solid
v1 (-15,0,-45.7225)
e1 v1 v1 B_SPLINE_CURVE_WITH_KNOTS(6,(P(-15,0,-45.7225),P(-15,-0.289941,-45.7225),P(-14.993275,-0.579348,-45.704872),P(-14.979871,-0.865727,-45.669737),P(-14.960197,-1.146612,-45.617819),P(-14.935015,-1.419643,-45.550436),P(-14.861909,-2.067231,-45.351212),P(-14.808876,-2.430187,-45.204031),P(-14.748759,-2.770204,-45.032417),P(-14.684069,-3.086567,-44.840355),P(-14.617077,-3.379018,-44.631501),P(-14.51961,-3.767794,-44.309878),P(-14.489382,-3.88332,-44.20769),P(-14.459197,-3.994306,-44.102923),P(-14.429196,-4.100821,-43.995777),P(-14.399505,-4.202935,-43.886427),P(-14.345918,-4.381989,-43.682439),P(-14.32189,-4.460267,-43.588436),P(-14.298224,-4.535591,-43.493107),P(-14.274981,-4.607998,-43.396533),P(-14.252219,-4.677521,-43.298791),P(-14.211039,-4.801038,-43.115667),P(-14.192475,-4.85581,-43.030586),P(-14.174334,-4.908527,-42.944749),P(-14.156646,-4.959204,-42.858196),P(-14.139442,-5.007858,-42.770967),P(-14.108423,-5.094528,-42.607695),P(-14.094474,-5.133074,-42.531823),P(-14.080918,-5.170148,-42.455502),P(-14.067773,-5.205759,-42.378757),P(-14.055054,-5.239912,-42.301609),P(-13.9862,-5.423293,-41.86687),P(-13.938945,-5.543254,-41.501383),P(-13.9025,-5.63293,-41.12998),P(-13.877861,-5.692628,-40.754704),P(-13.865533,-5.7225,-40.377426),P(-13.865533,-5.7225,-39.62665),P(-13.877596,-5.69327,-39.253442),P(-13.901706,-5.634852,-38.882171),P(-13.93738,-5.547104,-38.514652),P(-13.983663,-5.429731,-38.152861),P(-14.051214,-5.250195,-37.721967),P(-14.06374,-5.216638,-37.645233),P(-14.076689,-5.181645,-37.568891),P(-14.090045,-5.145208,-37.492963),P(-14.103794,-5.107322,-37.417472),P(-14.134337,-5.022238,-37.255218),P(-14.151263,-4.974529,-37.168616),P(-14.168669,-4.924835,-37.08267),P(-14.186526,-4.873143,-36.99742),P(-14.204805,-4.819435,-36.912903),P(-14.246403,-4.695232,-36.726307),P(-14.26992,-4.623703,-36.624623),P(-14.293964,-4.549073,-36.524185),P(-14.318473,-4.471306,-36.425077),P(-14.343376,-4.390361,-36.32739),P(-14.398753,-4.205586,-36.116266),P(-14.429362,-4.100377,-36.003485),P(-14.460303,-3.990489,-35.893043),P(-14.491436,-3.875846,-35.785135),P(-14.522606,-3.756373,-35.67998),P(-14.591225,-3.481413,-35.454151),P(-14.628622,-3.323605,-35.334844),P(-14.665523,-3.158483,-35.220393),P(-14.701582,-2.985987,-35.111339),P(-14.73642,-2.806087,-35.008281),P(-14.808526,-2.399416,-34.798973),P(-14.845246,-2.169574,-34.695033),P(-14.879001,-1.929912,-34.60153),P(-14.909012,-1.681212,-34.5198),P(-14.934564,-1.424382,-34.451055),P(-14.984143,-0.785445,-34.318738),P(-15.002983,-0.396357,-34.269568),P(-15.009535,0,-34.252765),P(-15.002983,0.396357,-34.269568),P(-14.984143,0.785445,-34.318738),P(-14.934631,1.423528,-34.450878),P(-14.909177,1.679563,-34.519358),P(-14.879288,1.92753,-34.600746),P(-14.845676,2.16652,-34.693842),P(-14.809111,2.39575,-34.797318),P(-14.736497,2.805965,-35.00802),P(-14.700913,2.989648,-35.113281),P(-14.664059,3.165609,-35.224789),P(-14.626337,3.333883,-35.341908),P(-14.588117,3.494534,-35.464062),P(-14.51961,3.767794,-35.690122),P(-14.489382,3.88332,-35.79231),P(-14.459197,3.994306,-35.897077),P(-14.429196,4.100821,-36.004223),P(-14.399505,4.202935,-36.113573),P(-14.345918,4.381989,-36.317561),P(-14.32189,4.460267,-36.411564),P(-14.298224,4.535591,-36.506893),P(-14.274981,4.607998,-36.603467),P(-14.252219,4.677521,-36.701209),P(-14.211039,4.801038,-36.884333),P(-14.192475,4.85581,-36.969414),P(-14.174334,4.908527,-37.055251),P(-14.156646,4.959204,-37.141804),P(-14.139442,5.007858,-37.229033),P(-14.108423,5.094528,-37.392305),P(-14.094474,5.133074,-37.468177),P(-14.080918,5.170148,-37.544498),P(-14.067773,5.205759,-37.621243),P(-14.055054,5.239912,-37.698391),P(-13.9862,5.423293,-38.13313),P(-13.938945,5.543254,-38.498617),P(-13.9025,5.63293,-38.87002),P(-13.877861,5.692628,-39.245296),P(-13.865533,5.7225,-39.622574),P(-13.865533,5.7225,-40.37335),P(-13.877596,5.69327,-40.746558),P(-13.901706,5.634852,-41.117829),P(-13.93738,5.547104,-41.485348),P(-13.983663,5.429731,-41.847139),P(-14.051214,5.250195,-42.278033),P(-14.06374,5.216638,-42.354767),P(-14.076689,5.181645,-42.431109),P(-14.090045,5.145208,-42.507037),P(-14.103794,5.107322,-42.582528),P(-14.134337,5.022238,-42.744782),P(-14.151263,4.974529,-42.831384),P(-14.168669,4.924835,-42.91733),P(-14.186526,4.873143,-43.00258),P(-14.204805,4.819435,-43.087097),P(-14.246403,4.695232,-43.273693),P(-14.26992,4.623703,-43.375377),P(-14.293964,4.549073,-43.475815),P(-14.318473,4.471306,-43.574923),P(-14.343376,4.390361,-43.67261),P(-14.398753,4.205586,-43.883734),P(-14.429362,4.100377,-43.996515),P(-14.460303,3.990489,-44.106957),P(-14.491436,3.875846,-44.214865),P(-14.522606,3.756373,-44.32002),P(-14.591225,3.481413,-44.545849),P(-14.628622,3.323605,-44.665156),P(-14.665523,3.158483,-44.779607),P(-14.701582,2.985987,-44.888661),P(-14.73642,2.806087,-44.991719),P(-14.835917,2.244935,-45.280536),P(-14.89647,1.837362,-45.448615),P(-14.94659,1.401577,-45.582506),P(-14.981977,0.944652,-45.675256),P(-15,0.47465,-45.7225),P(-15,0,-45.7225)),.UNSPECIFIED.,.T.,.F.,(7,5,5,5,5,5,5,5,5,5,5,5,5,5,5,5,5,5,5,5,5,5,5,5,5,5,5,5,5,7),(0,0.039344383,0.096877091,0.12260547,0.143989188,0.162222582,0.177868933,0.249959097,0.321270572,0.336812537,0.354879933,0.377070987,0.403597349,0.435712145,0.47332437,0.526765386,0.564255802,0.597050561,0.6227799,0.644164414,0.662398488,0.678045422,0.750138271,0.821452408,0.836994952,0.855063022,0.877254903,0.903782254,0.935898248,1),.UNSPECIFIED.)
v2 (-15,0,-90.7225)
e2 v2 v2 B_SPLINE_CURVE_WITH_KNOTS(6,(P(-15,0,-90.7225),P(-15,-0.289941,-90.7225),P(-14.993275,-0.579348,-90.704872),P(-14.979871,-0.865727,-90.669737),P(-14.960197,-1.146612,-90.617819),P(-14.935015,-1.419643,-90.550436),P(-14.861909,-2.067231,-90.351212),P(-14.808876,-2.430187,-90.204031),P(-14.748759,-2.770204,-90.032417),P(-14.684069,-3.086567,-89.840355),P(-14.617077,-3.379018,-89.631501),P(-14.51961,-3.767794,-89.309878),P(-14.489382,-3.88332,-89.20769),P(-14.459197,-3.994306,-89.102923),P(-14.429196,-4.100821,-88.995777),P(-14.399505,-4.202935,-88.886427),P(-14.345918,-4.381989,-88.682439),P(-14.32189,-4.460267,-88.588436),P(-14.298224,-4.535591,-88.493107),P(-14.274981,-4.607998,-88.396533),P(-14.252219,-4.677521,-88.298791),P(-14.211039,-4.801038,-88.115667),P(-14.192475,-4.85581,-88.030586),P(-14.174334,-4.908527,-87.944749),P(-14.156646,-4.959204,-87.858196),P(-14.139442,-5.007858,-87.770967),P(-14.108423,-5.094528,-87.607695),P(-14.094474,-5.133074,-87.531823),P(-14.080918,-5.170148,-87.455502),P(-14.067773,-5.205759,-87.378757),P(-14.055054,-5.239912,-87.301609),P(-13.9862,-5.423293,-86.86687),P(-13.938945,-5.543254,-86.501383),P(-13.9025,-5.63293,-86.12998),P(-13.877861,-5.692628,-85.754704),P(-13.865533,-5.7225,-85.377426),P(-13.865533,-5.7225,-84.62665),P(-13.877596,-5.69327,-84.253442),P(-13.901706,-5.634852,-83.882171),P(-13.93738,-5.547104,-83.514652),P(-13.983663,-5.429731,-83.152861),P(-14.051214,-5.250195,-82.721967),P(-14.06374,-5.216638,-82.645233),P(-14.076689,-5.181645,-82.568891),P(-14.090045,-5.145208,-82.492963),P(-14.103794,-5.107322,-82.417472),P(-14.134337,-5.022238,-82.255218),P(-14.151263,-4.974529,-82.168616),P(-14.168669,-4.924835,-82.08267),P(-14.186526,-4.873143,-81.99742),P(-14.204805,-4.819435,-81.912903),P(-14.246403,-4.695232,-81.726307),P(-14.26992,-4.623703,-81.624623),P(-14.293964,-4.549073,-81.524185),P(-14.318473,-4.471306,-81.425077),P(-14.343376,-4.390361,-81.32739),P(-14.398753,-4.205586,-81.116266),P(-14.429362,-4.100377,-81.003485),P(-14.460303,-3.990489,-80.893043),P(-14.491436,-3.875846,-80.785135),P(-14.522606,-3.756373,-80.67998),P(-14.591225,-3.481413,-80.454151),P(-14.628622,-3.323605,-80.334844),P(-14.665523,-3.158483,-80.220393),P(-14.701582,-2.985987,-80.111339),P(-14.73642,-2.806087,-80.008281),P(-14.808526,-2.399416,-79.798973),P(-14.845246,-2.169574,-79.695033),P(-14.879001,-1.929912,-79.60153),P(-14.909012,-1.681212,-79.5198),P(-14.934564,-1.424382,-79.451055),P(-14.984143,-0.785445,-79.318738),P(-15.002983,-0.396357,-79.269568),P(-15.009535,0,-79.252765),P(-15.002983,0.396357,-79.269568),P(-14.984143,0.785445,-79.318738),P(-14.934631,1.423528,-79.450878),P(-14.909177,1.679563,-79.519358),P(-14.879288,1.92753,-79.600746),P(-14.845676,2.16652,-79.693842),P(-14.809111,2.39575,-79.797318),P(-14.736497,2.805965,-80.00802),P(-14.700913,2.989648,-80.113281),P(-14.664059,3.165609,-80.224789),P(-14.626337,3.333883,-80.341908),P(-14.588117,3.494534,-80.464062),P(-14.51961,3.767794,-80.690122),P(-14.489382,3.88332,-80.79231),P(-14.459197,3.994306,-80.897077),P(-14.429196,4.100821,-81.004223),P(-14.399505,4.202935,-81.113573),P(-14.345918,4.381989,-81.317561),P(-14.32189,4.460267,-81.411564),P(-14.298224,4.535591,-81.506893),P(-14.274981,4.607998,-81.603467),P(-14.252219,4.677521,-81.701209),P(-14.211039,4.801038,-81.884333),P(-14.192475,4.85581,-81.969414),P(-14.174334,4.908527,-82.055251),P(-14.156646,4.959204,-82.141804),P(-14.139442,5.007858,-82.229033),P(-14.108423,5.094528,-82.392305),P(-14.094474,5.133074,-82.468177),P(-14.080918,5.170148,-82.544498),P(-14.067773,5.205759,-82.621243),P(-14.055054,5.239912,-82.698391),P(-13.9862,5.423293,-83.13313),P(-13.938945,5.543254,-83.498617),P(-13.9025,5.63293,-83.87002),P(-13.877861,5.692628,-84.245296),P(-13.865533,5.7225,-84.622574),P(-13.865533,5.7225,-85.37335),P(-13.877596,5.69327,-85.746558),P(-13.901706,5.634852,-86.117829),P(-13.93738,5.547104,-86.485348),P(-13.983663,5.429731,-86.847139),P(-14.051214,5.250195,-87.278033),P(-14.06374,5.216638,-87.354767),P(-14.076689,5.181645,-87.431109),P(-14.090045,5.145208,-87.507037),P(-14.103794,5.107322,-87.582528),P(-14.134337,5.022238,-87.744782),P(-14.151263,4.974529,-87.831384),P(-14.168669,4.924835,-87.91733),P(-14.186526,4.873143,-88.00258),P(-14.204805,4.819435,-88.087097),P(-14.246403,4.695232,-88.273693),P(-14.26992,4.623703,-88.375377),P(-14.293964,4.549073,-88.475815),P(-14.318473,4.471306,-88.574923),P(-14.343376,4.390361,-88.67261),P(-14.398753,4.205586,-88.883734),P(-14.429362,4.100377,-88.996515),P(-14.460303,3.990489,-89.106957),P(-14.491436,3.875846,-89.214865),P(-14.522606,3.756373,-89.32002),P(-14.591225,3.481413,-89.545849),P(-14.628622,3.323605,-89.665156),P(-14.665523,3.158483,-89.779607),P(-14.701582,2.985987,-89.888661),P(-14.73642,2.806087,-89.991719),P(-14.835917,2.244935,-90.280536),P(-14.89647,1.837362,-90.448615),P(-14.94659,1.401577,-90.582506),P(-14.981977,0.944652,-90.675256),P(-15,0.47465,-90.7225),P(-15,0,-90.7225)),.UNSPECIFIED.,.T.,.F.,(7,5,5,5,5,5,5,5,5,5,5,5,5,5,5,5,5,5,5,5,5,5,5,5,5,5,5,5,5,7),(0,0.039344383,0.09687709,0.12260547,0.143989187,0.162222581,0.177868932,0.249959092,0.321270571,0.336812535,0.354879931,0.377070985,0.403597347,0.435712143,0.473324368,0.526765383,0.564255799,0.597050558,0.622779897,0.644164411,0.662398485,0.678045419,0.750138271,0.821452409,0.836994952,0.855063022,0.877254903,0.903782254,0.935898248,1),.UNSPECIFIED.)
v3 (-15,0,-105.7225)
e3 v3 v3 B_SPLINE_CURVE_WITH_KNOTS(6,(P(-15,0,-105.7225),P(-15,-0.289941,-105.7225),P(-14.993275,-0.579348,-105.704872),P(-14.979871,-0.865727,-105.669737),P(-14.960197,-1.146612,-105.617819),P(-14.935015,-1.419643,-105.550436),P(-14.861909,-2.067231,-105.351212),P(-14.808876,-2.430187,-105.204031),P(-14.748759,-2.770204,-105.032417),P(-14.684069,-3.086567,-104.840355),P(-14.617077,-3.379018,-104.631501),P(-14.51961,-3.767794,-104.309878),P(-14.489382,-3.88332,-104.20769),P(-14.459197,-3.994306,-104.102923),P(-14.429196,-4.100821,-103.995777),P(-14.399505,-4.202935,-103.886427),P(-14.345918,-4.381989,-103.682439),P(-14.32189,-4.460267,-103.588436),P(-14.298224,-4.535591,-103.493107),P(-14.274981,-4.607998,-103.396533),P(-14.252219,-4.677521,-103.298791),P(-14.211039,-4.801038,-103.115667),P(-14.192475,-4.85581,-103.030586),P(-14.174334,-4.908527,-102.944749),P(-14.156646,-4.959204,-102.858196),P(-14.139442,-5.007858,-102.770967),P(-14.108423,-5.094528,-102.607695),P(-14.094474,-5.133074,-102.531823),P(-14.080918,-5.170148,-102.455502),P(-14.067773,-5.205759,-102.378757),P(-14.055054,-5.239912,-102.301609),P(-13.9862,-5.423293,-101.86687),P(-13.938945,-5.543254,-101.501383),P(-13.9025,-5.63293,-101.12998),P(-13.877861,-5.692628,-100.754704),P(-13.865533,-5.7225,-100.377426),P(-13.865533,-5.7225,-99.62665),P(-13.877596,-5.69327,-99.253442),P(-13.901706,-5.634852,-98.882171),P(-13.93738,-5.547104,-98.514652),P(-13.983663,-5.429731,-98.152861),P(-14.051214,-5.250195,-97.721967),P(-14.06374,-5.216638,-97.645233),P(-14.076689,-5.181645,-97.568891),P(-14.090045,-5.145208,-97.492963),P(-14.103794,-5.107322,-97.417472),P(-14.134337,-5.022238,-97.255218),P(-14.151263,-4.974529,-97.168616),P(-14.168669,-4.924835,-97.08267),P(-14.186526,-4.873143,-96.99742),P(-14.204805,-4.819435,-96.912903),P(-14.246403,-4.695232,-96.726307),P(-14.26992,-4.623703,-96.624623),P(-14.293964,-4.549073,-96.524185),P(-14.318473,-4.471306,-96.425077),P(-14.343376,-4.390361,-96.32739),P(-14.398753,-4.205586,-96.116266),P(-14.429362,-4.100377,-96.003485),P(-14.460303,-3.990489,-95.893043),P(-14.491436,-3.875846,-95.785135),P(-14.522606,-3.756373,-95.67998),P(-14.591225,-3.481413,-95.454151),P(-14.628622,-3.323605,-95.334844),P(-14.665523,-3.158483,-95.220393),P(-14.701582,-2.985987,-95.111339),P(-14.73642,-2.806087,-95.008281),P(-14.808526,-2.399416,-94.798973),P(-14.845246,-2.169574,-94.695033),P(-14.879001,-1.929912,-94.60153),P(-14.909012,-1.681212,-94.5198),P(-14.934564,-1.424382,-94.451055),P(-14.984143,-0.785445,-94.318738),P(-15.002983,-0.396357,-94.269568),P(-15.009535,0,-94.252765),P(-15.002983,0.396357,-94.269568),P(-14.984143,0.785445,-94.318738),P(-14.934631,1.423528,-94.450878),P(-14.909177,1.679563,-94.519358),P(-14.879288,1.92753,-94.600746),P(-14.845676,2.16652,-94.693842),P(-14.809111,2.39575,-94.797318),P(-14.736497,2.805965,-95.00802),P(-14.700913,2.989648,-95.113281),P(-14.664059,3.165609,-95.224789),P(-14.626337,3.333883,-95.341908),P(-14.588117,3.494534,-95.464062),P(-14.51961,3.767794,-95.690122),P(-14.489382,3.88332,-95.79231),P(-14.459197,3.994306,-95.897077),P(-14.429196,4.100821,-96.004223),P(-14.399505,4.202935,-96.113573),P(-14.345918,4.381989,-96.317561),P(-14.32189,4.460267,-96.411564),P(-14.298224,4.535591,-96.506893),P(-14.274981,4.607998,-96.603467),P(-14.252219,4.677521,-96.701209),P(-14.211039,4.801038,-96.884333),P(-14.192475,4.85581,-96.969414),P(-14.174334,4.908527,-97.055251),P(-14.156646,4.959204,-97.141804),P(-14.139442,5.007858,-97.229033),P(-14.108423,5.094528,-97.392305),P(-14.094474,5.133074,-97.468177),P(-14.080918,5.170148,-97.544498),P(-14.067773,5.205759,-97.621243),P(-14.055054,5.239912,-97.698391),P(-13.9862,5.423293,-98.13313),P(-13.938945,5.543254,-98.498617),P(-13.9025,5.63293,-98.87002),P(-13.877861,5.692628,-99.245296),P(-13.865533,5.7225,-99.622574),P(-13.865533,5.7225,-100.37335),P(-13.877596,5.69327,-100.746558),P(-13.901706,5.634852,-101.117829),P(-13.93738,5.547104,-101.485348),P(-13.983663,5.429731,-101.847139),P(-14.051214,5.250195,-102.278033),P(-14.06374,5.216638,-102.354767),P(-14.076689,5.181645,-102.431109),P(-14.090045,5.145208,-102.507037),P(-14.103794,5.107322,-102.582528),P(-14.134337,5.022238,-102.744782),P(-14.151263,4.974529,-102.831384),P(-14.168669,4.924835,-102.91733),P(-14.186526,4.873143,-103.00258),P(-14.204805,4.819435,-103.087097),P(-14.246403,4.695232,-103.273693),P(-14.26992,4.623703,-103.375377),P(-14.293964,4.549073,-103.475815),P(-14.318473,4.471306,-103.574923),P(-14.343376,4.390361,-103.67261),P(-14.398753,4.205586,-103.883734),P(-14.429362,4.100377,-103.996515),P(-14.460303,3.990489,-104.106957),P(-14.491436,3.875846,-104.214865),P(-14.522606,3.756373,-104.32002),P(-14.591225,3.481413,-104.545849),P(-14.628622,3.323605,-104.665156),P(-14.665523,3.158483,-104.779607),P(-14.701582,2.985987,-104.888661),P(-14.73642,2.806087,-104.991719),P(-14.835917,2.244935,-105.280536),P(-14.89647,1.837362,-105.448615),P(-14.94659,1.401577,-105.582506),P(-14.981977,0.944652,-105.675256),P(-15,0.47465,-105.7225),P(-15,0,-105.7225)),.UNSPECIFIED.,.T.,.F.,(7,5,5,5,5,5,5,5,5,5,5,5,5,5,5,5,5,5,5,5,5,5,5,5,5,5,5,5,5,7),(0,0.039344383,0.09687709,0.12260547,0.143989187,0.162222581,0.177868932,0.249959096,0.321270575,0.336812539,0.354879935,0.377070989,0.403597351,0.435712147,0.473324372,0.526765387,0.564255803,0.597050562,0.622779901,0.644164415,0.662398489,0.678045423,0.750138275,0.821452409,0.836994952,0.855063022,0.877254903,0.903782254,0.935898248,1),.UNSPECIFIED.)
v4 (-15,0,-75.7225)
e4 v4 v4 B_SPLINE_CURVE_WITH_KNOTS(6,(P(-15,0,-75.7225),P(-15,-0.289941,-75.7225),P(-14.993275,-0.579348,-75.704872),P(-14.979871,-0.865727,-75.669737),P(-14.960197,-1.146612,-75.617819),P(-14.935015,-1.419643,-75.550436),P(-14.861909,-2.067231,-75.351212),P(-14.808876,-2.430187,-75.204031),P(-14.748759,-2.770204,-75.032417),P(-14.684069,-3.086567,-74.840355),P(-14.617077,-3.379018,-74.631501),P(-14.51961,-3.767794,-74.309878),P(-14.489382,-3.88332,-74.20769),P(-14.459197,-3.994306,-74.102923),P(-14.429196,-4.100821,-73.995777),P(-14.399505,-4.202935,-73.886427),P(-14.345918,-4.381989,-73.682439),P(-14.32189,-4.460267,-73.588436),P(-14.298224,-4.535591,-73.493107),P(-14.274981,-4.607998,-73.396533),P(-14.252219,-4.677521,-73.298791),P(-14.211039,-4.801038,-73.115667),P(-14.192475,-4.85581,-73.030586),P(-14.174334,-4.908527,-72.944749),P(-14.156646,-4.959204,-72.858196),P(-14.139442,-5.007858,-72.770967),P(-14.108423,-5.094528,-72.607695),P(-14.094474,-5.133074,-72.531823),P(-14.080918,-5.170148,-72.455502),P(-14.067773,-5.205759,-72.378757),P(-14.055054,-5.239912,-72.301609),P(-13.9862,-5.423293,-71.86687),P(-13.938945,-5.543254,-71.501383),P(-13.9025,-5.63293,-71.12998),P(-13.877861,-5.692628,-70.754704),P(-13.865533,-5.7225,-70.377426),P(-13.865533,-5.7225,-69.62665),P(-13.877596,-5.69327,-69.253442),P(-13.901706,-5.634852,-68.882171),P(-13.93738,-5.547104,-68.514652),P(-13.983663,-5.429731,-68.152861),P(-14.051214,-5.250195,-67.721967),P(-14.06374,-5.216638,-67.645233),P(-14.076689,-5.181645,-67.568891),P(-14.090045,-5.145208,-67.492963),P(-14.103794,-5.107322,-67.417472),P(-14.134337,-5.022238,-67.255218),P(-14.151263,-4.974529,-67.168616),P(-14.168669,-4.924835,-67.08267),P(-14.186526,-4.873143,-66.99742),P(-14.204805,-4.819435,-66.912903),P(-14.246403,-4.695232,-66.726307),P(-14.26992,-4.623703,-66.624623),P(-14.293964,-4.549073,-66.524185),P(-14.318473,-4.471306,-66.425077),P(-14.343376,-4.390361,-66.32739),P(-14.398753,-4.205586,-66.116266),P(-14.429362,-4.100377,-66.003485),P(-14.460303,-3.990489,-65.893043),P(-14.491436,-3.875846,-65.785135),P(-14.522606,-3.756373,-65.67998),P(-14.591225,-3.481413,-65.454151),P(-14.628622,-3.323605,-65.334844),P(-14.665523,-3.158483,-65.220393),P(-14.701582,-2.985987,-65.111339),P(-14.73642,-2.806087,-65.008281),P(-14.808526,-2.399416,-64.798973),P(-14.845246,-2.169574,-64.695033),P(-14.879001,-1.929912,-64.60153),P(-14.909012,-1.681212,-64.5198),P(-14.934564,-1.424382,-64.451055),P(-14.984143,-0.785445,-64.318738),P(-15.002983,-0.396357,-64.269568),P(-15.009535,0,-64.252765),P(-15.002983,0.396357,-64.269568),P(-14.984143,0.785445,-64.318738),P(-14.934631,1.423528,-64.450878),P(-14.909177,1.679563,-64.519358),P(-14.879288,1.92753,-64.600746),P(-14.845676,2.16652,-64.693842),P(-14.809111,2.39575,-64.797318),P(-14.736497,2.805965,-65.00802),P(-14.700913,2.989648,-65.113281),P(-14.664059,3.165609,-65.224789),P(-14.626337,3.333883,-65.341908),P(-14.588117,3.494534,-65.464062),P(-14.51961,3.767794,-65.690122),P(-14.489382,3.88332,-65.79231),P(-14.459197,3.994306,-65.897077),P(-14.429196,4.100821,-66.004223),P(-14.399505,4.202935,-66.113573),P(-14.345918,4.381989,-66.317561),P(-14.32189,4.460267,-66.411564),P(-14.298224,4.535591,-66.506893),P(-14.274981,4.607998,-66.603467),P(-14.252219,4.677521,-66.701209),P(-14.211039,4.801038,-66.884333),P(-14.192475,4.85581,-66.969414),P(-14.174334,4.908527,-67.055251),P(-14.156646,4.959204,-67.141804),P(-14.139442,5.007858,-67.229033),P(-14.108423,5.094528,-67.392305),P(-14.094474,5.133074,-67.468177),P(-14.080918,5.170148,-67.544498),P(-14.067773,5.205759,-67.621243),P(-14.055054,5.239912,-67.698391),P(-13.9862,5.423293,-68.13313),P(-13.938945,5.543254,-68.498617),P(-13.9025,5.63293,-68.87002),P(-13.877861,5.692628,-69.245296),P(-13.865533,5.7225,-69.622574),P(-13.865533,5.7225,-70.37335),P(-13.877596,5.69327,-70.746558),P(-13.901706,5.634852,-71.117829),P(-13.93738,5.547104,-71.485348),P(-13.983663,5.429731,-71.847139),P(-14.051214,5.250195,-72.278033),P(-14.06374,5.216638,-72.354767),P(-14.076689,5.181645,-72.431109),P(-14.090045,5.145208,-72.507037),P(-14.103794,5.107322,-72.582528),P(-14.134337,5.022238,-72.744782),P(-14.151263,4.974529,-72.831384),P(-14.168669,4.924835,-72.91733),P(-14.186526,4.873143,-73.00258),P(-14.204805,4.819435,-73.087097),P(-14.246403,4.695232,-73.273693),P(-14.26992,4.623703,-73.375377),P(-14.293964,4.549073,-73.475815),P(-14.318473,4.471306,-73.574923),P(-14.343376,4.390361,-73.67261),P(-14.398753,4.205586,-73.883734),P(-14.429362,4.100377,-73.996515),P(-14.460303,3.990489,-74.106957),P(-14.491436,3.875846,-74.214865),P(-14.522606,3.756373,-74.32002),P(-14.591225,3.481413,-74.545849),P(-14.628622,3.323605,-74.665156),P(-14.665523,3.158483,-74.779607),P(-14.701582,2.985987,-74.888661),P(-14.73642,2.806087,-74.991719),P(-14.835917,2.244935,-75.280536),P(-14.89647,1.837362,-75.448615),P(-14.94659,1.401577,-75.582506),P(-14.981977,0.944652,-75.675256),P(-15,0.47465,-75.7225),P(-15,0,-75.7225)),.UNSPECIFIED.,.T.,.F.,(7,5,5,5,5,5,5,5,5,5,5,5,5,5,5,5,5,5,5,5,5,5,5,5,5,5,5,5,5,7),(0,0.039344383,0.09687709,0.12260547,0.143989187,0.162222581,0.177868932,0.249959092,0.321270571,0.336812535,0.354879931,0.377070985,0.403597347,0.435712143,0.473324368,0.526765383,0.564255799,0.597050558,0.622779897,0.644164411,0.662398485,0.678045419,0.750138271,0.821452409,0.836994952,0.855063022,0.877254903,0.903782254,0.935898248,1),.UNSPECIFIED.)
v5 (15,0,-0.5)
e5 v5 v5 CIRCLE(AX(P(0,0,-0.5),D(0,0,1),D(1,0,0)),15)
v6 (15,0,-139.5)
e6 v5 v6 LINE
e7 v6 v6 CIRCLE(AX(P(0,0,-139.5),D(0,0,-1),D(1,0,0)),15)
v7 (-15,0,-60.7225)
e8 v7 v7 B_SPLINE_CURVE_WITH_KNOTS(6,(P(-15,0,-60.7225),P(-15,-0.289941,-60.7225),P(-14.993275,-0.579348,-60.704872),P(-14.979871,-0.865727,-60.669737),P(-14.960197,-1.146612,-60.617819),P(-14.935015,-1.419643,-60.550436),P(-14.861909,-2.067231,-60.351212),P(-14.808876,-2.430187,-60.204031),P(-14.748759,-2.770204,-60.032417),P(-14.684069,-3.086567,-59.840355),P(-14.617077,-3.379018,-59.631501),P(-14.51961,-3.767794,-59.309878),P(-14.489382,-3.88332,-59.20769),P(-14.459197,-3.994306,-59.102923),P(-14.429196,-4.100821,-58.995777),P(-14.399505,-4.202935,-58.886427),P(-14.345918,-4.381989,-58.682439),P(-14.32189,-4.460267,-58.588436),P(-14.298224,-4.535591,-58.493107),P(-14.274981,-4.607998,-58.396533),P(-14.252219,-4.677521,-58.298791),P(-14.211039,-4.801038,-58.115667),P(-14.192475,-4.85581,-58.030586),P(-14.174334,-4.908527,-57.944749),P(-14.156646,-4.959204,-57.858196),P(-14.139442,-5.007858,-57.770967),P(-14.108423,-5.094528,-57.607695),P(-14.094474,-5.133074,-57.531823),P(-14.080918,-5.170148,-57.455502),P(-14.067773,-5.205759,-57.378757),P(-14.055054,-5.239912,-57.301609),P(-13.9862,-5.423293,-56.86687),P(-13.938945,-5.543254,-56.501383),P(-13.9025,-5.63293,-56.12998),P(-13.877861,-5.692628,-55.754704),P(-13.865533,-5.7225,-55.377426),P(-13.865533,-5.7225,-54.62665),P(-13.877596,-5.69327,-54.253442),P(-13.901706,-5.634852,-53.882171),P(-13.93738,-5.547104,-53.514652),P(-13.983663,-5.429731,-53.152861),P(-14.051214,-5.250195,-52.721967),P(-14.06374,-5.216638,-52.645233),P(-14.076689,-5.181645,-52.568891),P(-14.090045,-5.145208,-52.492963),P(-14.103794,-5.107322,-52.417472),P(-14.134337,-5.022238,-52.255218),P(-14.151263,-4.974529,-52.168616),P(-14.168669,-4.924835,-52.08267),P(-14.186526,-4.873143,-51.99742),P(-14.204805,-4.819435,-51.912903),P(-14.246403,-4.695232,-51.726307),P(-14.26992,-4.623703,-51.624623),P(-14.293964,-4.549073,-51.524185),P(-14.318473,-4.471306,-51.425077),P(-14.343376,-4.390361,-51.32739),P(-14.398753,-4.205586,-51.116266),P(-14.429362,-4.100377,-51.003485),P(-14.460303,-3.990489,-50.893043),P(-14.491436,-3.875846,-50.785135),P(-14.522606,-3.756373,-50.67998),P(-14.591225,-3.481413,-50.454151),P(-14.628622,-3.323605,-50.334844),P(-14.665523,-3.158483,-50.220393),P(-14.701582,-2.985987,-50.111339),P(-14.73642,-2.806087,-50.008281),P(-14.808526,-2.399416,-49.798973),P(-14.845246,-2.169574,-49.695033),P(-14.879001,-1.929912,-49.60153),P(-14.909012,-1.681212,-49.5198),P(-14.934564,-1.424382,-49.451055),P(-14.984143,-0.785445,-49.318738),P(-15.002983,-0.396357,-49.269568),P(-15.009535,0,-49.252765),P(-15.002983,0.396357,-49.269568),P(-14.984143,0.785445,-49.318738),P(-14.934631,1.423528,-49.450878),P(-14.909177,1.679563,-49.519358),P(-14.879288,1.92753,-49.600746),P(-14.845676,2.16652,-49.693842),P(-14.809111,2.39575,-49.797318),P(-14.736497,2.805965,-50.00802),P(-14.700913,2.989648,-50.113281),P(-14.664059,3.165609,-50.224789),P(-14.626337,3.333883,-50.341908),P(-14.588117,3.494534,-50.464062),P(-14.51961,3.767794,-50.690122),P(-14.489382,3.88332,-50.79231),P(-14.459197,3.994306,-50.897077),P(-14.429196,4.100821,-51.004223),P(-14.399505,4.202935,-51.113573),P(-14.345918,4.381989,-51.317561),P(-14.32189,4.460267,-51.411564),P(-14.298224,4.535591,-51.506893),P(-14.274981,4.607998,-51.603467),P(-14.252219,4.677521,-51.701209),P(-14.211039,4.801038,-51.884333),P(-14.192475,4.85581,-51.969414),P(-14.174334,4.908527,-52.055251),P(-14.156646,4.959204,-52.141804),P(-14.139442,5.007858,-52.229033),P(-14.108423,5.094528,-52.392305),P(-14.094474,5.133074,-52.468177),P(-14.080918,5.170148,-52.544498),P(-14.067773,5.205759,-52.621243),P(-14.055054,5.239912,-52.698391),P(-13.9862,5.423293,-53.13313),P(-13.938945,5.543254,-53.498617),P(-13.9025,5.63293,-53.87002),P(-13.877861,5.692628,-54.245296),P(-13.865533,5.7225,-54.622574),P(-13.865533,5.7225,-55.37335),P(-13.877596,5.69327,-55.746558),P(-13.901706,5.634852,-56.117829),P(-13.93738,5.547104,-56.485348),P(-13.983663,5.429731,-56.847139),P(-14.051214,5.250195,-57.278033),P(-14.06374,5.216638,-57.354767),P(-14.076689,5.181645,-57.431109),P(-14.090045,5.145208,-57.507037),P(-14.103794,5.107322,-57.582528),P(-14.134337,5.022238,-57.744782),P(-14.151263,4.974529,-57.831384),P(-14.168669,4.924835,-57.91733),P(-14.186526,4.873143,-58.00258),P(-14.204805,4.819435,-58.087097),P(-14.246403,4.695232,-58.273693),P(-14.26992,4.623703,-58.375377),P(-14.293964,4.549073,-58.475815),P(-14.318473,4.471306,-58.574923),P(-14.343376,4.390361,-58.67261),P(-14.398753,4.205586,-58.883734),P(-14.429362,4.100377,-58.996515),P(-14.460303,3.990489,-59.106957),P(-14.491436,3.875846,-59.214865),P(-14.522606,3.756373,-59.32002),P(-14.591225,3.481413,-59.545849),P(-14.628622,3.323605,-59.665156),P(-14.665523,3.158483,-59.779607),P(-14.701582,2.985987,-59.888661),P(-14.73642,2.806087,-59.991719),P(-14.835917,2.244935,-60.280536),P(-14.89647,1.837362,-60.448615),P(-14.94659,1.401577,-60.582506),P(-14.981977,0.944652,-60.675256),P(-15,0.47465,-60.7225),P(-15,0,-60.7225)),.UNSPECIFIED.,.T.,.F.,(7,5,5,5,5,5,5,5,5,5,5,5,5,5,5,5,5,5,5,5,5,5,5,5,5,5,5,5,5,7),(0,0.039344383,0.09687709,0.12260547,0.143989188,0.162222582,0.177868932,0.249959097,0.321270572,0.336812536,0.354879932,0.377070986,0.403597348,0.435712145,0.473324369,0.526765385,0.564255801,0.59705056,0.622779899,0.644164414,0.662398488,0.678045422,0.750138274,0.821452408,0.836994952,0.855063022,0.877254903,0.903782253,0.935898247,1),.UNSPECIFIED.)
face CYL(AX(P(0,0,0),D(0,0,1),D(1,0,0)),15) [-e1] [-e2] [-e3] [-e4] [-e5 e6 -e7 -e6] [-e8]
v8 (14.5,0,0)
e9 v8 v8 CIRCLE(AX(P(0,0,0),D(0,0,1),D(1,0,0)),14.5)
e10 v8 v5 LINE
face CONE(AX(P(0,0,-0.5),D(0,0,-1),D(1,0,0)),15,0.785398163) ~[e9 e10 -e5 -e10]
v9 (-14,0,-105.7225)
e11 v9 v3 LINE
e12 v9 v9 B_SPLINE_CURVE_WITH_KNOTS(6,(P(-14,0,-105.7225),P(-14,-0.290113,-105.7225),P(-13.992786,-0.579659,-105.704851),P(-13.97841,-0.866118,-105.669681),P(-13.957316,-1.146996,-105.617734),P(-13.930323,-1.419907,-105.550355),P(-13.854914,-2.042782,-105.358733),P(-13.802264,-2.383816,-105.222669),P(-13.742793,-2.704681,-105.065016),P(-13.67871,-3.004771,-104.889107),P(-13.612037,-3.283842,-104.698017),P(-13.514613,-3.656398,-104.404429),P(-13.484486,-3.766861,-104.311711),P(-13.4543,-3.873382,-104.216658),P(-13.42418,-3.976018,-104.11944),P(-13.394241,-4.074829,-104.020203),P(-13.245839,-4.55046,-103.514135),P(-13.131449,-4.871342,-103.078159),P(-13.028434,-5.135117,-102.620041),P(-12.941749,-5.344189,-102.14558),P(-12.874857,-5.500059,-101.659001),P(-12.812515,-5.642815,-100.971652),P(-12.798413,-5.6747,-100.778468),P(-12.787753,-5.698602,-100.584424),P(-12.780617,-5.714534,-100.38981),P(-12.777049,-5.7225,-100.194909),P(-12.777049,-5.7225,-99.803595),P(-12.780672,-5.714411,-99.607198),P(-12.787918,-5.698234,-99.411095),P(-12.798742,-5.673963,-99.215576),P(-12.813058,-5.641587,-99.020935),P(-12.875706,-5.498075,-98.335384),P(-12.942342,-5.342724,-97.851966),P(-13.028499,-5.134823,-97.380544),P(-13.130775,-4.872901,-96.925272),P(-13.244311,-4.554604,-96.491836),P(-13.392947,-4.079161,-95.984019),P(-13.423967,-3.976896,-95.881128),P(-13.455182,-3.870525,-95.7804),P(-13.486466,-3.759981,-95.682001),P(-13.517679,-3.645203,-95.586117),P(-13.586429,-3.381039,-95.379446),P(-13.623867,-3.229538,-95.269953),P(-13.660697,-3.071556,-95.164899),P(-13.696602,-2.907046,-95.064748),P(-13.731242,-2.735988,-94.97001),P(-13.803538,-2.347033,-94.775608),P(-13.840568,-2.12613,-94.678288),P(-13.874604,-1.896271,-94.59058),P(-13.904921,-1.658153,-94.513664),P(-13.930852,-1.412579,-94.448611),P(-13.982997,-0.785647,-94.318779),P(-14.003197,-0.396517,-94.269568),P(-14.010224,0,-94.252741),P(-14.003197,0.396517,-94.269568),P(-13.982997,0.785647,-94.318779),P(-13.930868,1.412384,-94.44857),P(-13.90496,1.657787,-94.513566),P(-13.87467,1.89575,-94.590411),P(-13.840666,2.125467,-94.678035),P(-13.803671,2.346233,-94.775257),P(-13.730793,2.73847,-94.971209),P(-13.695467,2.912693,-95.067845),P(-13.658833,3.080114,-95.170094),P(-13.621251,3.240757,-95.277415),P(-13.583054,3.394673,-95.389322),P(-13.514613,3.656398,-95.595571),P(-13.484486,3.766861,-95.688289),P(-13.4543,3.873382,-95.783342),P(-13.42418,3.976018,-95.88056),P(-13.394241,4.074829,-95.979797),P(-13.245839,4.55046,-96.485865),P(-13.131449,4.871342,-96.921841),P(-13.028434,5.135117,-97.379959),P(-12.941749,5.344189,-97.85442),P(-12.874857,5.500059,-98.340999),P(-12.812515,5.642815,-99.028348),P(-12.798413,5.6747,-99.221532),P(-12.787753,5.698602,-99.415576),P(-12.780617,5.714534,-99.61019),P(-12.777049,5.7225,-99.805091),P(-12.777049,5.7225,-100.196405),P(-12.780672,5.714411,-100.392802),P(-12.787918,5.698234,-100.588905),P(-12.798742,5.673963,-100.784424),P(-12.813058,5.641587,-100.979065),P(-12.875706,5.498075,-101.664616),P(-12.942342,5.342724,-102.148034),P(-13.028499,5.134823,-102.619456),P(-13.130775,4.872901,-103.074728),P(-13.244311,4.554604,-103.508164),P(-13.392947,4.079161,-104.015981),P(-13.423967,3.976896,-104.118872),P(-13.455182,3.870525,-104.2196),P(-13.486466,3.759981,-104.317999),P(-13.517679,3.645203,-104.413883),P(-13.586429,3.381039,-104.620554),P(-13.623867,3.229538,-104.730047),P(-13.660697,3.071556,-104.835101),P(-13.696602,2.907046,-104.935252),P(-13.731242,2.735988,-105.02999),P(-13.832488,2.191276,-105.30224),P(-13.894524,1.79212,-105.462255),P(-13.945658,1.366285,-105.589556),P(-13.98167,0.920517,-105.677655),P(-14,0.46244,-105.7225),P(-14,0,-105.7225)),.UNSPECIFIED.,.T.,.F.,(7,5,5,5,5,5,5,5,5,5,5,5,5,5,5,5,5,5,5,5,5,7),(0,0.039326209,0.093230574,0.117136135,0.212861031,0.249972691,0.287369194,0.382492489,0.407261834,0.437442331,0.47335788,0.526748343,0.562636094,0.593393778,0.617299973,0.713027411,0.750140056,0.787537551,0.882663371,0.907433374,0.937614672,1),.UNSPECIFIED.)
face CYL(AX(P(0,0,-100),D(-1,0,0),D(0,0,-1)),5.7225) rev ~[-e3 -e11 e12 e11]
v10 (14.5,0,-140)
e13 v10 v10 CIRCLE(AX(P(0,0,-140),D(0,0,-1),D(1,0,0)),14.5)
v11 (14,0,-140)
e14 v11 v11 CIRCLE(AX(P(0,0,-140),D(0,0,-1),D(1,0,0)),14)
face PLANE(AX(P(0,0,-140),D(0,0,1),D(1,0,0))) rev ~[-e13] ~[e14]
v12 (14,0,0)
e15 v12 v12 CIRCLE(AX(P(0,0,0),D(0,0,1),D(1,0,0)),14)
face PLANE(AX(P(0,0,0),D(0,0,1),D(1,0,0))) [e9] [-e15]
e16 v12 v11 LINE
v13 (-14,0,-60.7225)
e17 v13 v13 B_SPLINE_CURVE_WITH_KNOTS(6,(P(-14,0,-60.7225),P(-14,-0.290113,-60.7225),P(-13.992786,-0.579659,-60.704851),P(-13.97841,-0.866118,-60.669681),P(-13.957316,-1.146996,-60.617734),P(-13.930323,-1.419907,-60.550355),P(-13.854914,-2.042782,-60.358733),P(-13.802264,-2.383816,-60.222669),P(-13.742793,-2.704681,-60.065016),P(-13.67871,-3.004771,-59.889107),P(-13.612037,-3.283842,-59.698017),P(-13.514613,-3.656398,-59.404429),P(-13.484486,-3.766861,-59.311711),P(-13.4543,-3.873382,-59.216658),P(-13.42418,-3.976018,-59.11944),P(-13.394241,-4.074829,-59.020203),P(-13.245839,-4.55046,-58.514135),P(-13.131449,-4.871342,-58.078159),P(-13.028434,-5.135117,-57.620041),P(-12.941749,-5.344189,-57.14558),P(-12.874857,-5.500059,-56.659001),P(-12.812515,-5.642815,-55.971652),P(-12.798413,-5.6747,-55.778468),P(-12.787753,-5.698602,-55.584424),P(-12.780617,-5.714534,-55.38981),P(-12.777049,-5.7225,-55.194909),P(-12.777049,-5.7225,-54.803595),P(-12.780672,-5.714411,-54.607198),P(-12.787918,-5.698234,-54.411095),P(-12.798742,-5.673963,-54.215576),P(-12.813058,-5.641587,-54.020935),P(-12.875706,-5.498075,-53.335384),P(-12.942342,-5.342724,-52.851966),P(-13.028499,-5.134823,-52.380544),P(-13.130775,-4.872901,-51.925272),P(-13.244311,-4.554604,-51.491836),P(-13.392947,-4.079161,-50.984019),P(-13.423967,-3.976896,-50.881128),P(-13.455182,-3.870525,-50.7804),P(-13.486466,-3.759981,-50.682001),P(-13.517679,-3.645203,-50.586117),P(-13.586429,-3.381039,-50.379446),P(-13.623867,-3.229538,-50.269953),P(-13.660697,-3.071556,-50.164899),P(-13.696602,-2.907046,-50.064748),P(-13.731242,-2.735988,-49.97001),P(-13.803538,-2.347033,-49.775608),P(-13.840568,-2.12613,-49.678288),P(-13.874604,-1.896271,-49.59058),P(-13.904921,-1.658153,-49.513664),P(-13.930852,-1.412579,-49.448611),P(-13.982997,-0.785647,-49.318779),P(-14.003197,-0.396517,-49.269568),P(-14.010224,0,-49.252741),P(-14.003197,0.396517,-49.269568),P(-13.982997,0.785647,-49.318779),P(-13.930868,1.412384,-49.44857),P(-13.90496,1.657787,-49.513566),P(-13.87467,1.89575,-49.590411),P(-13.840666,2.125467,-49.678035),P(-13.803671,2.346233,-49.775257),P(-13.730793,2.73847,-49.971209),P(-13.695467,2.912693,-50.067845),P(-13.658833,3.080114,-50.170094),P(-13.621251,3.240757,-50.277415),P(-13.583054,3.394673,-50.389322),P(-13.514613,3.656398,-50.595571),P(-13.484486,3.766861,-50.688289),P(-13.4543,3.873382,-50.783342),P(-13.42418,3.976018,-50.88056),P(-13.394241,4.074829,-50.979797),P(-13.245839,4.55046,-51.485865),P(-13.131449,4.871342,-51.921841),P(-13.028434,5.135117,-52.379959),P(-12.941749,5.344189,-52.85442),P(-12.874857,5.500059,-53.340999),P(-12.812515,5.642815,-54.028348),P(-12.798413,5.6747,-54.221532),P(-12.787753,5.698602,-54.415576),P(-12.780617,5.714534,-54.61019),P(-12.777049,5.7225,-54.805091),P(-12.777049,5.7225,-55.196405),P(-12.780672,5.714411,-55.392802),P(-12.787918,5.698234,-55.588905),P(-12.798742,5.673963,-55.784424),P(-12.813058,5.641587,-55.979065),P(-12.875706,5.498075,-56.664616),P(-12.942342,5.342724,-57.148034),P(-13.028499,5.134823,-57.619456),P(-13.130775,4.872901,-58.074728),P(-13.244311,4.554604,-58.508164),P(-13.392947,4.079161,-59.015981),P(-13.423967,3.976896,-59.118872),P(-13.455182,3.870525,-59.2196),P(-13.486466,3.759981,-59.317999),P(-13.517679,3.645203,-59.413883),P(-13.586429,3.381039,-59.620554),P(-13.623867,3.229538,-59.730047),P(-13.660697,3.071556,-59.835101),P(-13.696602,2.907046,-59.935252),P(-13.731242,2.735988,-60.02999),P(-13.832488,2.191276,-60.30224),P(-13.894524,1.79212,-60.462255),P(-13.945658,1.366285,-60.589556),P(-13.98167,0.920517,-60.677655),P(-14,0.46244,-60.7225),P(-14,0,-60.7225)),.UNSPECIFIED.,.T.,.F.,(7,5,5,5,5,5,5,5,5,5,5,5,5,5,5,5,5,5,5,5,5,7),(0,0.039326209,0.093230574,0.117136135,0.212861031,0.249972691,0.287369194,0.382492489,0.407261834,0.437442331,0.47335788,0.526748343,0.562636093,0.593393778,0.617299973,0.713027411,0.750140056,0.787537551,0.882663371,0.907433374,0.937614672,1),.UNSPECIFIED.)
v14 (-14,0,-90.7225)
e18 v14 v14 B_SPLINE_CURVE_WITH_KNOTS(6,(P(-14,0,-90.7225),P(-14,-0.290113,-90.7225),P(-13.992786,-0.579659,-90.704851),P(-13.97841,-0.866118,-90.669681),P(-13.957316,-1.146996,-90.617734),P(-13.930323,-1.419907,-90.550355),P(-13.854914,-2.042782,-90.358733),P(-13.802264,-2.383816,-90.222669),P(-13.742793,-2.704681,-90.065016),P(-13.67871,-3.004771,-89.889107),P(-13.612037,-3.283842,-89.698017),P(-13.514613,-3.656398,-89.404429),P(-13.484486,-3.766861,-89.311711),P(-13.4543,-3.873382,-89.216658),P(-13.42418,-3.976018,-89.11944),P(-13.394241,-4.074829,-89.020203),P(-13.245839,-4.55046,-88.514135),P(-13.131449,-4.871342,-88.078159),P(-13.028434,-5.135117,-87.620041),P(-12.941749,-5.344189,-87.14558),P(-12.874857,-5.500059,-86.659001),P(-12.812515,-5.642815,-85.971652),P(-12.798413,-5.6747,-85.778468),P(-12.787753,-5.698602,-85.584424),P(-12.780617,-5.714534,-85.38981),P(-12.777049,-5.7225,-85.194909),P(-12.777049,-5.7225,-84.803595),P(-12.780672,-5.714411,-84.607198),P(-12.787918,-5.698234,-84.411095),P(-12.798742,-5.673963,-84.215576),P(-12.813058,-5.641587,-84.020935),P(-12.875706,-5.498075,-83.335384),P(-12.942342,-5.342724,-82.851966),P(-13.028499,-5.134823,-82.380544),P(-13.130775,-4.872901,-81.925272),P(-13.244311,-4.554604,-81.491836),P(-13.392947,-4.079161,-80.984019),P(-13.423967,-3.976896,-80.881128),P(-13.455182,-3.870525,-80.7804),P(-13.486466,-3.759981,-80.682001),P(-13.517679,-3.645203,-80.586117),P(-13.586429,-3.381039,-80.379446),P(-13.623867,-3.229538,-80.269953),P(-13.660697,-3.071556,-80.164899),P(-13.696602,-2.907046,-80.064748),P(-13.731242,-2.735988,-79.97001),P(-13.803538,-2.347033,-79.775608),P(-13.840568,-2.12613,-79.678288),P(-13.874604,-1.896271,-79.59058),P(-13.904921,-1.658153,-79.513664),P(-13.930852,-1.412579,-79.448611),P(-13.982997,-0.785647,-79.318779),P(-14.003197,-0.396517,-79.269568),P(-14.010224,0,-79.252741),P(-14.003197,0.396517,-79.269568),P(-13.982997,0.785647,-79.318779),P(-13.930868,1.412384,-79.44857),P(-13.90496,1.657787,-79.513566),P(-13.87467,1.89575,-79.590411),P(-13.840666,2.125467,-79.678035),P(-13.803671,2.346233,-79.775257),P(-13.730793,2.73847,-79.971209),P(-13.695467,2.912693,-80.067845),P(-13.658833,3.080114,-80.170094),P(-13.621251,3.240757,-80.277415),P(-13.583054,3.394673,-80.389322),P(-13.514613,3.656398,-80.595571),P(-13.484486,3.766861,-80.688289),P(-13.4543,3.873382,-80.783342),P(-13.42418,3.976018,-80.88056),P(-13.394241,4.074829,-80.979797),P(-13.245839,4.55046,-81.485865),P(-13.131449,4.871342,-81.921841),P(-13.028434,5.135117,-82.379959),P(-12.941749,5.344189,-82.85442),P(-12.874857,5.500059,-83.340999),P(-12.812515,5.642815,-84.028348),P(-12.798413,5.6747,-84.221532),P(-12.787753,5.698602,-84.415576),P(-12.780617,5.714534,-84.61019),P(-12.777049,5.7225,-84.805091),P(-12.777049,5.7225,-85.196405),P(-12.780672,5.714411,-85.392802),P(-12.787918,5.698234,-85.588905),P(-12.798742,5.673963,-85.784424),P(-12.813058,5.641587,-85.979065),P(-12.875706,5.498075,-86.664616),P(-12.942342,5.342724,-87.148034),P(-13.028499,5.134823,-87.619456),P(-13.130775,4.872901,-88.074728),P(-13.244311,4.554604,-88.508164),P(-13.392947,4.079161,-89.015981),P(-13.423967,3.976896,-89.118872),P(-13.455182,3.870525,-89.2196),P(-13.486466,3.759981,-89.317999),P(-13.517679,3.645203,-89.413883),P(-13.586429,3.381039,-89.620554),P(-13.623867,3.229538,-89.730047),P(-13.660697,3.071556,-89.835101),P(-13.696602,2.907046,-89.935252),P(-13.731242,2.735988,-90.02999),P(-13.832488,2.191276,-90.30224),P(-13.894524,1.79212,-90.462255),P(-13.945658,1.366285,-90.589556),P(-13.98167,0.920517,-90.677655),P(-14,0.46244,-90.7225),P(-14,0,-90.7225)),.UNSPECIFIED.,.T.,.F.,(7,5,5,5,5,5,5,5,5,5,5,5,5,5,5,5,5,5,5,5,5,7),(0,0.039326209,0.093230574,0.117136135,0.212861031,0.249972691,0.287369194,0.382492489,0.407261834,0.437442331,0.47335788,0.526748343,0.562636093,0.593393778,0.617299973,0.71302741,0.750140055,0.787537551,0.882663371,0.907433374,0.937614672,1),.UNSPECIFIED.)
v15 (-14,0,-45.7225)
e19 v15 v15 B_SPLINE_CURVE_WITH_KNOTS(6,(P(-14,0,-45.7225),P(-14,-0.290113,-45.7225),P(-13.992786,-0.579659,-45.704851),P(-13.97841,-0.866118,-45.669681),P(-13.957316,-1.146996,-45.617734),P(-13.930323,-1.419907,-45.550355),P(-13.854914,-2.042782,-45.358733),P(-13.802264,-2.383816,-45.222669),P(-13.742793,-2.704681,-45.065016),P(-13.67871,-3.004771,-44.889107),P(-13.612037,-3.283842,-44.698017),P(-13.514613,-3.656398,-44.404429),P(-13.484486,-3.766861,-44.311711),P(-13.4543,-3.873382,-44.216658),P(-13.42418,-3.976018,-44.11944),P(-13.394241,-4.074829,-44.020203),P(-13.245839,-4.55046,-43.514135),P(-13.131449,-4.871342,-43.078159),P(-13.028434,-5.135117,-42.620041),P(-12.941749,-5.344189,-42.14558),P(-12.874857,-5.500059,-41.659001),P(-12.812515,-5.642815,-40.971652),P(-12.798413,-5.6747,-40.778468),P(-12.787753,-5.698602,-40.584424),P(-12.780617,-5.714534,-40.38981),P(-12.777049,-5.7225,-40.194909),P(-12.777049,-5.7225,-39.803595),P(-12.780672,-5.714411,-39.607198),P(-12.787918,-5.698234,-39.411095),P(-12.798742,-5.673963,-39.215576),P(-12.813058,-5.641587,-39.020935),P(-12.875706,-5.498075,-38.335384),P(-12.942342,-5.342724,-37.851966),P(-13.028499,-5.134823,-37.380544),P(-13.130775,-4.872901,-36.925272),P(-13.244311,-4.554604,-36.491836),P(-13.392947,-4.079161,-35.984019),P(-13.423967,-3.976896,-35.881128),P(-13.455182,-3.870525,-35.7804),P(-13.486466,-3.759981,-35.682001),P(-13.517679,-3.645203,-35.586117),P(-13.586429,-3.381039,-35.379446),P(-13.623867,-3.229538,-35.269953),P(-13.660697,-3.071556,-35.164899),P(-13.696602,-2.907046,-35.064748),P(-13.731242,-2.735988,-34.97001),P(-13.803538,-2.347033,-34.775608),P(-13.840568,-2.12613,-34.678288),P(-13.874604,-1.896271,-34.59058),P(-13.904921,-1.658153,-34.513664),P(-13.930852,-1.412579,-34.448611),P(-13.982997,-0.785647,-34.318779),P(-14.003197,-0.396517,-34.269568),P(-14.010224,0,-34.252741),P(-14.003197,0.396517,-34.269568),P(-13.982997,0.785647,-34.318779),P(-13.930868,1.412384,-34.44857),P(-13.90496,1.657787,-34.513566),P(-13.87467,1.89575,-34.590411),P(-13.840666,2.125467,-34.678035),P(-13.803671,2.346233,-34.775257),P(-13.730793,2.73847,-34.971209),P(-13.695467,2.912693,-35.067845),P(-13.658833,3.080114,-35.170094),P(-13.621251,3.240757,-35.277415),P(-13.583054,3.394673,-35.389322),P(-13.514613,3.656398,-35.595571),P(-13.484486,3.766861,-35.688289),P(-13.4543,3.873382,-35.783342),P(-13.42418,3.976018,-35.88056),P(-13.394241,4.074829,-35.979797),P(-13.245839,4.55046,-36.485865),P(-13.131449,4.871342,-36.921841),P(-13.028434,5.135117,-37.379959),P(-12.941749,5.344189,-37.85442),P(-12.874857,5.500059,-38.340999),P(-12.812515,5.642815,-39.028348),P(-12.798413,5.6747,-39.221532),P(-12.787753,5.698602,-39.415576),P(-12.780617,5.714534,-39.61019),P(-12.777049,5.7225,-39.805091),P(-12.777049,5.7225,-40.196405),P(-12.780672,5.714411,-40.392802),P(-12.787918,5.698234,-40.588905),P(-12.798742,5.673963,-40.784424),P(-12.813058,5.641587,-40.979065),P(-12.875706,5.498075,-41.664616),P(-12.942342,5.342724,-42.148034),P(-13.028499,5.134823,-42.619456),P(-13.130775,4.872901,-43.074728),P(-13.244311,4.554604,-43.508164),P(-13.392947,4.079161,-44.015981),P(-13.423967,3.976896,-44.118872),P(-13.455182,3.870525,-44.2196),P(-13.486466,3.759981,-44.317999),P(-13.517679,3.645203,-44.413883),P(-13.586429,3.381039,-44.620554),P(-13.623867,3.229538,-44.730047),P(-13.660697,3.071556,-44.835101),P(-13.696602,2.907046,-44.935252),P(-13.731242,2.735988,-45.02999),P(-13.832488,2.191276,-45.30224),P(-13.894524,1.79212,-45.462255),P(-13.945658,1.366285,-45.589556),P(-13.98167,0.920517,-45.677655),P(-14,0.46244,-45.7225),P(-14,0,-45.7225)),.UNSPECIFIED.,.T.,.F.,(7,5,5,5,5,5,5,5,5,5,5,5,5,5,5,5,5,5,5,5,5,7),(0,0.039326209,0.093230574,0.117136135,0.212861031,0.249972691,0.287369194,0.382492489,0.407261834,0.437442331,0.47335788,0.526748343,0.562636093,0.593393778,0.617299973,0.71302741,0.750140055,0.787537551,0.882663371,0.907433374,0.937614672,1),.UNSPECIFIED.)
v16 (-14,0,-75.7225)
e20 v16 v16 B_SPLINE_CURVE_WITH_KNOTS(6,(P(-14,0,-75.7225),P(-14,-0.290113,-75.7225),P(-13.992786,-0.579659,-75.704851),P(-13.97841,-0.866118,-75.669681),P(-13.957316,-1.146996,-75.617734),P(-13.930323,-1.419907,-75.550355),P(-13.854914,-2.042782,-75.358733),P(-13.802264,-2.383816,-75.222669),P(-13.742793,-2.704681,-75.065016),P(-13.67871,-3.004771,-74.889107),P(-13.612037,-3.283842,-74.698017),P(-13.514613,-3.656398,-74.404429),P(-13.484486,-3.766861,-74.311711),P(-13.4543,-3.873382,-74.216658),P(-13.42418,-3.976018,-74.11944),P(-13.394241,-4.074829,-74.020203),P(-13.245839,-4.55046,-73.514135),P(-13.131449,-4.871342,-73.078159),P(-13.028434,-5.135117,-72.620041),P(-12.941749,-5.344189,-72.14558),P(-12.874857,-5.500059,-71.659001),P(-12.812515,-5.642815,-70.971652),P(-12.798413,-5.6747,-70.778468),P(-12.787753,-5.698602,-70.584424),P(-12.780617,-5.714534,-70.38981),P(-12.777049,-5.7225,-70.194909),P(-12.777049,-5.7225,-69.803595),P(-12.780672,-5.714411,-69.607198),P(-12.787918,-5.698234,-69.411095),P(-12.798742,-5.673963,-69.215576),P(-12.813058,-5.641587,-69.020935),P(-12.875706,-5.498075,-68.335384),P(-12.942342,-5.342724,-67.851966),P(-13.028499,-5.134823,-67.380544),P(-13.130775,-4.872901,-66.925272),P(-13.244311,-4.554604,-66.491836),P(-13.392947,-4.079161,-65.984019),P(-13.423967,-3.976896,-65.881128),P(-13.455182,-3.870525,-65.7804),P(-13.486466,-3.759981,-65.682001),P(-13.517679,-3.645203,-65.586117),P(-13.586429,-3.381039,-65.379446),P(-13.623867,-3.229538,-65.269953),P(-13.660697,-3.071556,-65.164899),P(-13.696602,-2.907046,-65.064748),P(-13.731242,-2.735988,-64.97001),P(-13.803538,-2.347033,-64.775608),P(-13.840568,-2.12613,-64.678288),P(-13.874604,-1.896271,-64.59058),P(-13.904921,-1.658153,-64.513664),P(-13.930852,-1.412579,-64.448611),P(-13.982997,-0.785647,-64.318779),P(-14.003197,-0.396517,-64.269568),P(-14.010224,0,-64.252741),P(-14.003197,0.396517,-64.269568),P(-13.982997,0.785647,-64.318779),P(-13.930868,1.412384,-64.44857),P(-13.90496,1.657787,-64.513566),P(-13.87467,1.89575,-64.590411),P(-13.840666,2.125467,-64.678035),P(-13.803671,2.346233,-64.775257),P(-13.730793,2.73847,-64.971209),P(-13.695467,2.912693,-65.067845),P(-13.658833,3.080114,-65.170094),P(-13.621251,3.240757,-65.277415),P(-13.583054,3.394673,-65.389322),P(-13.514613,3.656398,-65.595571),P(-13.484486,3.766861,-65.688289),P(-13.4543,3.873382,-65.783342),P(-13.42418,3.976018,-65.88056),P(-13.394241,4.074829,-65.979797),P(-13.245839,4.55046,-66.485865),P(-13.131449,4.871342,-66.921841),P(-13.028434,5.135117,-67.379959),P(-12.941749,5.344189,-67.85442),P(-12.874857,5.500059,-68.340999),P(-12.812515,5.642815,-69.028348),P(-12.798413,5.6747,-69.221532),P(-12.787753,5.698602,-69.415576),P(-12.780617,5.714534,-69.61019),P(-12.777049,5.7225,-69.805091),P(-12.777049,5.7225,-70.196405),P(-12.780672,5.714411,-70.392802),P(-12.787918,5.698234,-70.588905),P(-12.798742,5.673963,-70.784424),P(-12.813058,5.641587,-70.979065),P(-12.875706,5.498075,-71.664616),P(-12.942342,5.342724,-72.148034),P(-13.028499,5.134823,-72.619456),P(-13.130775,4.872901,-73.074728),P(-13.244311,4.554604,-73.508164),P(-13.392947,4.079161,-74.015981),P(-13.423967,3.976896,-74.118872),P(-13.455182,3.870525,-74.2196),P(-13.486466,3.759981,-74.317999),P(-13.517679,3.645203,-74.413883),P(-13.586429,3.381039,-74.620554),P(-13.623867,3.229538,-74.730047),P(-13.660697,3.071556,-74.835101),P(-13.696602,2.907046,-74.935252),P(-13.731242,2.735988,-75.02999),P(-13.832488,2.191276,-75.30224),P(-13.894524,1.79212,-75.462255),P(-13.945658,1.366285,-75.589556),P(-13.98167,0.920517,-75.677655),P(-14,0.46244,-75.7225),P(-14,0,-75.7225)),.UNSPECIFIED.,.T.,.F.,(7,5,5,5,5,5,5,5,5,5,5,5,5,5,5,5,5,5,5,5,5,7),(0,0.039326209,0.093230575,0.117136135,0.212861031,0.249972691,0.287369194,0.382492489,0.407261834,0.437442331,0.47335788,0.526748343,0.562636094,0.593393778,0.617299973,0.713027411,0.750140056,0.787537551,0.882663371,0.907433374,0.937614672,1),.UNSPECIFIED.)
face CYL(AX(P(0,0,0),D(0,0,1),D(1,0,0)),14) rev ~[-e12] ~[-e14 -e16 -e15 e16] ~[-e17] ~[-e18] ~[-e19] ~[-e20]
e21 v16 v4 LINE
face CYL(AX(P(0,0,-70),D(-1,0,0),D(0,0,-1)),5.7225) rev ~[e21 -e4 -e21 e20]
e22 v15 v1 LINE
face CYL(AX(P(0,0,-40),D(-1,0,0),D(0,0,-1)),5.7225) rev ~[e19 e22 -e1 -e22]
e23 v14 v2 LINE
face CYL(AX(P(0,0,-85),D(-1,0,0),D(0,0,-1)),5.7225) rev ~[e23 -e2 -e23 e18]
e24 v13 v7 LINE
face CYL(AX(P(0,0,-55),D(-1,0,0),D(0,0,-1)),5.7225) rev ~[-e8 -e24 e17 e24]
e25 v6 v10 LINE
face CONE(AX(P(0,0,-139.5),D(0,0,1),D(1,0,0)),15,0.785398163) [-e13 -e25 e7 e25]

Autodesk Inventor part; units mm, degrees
ref_plane "XZ Plane" through (0, 0, 0) normal (0, 1, 0) x (-1, 0, 0)
ref_plane "XY Plane" through (0, 0, 0) normal (0, 0, 1) x (1, 0, 0)
sketch "Skizze1" plane through (0, 0, 0) normal (0, 0, 1) x (1, 0, 0)
  line L0 (-21, 0) -> (21, 0) projected
  line L1 (0, -21) -> (0, 21) projected
  circle A0 centre (0, 0) radius 15
  circle A1 centre (0, 0) radius 14
  dimension "d0" = 30
  dimension "d1" = 28
extrude "Extrusion1" add sketch "Skizze1" against normal blind 140 contours A1 L1 A0 L0 | L0 A0 L1 A1 | A1 L0 A0 L1 | L1 A0 L0 A1
thread "Gewinde1" size "M30x3.5" class "6g" standard "ANSI Metric M Profile" length 25
thread "Gewinde2" size "M30x3.5" class "6g" standard "ANSI Metric M Profile" length 25
chamfer "Fase1" distance 0.5 angle 45 1 edges at (-15, 0, 0)
chamfer "Fase2" distance 0.5 angle 45 1 edges at (-15, 0, -140)
ref_plane "Arbeitsebene1" through (15, 0, 0) normal (1, 0, 0) x (0, 1, 0)
sketch "Skizze2" plane through (0, 0, 0) normal (1, 0, 0) x (0, 1, 0)
  line L0 (15, -0.5) -> (-15, -0.5) projected
  line L1 (14.5, -140) -> (-14.5, -140) projected
  line L2 (-14.5, 0) -> (14.5, 0) projected
  point P0 (0, 0)
  point P1 (0, -40)
  point P2 (0, -55)
  point P3 (0, -70)
  point P4 (0, -85)
  point P5 (0, -100)
  dimension "d17" = 40
  dimension "d18" = 15
  dimension "d19" = 15
  dimension "d20" = 15
  dimension "d21" = 40
  dimension "d22" = 15
hole "Bohrung1" at (0, 0, -40) at (0, 0, -55) at (0, 0, -70) at (0, 0, -85) at (0, 0, -100) direction (-1, 0, 0) diameter 11.445 end through all thread size "G13.157x1.337" designation "G 1/4" standard "ISO Pipe Threads"
properties part number "VerteilerLuft1"
